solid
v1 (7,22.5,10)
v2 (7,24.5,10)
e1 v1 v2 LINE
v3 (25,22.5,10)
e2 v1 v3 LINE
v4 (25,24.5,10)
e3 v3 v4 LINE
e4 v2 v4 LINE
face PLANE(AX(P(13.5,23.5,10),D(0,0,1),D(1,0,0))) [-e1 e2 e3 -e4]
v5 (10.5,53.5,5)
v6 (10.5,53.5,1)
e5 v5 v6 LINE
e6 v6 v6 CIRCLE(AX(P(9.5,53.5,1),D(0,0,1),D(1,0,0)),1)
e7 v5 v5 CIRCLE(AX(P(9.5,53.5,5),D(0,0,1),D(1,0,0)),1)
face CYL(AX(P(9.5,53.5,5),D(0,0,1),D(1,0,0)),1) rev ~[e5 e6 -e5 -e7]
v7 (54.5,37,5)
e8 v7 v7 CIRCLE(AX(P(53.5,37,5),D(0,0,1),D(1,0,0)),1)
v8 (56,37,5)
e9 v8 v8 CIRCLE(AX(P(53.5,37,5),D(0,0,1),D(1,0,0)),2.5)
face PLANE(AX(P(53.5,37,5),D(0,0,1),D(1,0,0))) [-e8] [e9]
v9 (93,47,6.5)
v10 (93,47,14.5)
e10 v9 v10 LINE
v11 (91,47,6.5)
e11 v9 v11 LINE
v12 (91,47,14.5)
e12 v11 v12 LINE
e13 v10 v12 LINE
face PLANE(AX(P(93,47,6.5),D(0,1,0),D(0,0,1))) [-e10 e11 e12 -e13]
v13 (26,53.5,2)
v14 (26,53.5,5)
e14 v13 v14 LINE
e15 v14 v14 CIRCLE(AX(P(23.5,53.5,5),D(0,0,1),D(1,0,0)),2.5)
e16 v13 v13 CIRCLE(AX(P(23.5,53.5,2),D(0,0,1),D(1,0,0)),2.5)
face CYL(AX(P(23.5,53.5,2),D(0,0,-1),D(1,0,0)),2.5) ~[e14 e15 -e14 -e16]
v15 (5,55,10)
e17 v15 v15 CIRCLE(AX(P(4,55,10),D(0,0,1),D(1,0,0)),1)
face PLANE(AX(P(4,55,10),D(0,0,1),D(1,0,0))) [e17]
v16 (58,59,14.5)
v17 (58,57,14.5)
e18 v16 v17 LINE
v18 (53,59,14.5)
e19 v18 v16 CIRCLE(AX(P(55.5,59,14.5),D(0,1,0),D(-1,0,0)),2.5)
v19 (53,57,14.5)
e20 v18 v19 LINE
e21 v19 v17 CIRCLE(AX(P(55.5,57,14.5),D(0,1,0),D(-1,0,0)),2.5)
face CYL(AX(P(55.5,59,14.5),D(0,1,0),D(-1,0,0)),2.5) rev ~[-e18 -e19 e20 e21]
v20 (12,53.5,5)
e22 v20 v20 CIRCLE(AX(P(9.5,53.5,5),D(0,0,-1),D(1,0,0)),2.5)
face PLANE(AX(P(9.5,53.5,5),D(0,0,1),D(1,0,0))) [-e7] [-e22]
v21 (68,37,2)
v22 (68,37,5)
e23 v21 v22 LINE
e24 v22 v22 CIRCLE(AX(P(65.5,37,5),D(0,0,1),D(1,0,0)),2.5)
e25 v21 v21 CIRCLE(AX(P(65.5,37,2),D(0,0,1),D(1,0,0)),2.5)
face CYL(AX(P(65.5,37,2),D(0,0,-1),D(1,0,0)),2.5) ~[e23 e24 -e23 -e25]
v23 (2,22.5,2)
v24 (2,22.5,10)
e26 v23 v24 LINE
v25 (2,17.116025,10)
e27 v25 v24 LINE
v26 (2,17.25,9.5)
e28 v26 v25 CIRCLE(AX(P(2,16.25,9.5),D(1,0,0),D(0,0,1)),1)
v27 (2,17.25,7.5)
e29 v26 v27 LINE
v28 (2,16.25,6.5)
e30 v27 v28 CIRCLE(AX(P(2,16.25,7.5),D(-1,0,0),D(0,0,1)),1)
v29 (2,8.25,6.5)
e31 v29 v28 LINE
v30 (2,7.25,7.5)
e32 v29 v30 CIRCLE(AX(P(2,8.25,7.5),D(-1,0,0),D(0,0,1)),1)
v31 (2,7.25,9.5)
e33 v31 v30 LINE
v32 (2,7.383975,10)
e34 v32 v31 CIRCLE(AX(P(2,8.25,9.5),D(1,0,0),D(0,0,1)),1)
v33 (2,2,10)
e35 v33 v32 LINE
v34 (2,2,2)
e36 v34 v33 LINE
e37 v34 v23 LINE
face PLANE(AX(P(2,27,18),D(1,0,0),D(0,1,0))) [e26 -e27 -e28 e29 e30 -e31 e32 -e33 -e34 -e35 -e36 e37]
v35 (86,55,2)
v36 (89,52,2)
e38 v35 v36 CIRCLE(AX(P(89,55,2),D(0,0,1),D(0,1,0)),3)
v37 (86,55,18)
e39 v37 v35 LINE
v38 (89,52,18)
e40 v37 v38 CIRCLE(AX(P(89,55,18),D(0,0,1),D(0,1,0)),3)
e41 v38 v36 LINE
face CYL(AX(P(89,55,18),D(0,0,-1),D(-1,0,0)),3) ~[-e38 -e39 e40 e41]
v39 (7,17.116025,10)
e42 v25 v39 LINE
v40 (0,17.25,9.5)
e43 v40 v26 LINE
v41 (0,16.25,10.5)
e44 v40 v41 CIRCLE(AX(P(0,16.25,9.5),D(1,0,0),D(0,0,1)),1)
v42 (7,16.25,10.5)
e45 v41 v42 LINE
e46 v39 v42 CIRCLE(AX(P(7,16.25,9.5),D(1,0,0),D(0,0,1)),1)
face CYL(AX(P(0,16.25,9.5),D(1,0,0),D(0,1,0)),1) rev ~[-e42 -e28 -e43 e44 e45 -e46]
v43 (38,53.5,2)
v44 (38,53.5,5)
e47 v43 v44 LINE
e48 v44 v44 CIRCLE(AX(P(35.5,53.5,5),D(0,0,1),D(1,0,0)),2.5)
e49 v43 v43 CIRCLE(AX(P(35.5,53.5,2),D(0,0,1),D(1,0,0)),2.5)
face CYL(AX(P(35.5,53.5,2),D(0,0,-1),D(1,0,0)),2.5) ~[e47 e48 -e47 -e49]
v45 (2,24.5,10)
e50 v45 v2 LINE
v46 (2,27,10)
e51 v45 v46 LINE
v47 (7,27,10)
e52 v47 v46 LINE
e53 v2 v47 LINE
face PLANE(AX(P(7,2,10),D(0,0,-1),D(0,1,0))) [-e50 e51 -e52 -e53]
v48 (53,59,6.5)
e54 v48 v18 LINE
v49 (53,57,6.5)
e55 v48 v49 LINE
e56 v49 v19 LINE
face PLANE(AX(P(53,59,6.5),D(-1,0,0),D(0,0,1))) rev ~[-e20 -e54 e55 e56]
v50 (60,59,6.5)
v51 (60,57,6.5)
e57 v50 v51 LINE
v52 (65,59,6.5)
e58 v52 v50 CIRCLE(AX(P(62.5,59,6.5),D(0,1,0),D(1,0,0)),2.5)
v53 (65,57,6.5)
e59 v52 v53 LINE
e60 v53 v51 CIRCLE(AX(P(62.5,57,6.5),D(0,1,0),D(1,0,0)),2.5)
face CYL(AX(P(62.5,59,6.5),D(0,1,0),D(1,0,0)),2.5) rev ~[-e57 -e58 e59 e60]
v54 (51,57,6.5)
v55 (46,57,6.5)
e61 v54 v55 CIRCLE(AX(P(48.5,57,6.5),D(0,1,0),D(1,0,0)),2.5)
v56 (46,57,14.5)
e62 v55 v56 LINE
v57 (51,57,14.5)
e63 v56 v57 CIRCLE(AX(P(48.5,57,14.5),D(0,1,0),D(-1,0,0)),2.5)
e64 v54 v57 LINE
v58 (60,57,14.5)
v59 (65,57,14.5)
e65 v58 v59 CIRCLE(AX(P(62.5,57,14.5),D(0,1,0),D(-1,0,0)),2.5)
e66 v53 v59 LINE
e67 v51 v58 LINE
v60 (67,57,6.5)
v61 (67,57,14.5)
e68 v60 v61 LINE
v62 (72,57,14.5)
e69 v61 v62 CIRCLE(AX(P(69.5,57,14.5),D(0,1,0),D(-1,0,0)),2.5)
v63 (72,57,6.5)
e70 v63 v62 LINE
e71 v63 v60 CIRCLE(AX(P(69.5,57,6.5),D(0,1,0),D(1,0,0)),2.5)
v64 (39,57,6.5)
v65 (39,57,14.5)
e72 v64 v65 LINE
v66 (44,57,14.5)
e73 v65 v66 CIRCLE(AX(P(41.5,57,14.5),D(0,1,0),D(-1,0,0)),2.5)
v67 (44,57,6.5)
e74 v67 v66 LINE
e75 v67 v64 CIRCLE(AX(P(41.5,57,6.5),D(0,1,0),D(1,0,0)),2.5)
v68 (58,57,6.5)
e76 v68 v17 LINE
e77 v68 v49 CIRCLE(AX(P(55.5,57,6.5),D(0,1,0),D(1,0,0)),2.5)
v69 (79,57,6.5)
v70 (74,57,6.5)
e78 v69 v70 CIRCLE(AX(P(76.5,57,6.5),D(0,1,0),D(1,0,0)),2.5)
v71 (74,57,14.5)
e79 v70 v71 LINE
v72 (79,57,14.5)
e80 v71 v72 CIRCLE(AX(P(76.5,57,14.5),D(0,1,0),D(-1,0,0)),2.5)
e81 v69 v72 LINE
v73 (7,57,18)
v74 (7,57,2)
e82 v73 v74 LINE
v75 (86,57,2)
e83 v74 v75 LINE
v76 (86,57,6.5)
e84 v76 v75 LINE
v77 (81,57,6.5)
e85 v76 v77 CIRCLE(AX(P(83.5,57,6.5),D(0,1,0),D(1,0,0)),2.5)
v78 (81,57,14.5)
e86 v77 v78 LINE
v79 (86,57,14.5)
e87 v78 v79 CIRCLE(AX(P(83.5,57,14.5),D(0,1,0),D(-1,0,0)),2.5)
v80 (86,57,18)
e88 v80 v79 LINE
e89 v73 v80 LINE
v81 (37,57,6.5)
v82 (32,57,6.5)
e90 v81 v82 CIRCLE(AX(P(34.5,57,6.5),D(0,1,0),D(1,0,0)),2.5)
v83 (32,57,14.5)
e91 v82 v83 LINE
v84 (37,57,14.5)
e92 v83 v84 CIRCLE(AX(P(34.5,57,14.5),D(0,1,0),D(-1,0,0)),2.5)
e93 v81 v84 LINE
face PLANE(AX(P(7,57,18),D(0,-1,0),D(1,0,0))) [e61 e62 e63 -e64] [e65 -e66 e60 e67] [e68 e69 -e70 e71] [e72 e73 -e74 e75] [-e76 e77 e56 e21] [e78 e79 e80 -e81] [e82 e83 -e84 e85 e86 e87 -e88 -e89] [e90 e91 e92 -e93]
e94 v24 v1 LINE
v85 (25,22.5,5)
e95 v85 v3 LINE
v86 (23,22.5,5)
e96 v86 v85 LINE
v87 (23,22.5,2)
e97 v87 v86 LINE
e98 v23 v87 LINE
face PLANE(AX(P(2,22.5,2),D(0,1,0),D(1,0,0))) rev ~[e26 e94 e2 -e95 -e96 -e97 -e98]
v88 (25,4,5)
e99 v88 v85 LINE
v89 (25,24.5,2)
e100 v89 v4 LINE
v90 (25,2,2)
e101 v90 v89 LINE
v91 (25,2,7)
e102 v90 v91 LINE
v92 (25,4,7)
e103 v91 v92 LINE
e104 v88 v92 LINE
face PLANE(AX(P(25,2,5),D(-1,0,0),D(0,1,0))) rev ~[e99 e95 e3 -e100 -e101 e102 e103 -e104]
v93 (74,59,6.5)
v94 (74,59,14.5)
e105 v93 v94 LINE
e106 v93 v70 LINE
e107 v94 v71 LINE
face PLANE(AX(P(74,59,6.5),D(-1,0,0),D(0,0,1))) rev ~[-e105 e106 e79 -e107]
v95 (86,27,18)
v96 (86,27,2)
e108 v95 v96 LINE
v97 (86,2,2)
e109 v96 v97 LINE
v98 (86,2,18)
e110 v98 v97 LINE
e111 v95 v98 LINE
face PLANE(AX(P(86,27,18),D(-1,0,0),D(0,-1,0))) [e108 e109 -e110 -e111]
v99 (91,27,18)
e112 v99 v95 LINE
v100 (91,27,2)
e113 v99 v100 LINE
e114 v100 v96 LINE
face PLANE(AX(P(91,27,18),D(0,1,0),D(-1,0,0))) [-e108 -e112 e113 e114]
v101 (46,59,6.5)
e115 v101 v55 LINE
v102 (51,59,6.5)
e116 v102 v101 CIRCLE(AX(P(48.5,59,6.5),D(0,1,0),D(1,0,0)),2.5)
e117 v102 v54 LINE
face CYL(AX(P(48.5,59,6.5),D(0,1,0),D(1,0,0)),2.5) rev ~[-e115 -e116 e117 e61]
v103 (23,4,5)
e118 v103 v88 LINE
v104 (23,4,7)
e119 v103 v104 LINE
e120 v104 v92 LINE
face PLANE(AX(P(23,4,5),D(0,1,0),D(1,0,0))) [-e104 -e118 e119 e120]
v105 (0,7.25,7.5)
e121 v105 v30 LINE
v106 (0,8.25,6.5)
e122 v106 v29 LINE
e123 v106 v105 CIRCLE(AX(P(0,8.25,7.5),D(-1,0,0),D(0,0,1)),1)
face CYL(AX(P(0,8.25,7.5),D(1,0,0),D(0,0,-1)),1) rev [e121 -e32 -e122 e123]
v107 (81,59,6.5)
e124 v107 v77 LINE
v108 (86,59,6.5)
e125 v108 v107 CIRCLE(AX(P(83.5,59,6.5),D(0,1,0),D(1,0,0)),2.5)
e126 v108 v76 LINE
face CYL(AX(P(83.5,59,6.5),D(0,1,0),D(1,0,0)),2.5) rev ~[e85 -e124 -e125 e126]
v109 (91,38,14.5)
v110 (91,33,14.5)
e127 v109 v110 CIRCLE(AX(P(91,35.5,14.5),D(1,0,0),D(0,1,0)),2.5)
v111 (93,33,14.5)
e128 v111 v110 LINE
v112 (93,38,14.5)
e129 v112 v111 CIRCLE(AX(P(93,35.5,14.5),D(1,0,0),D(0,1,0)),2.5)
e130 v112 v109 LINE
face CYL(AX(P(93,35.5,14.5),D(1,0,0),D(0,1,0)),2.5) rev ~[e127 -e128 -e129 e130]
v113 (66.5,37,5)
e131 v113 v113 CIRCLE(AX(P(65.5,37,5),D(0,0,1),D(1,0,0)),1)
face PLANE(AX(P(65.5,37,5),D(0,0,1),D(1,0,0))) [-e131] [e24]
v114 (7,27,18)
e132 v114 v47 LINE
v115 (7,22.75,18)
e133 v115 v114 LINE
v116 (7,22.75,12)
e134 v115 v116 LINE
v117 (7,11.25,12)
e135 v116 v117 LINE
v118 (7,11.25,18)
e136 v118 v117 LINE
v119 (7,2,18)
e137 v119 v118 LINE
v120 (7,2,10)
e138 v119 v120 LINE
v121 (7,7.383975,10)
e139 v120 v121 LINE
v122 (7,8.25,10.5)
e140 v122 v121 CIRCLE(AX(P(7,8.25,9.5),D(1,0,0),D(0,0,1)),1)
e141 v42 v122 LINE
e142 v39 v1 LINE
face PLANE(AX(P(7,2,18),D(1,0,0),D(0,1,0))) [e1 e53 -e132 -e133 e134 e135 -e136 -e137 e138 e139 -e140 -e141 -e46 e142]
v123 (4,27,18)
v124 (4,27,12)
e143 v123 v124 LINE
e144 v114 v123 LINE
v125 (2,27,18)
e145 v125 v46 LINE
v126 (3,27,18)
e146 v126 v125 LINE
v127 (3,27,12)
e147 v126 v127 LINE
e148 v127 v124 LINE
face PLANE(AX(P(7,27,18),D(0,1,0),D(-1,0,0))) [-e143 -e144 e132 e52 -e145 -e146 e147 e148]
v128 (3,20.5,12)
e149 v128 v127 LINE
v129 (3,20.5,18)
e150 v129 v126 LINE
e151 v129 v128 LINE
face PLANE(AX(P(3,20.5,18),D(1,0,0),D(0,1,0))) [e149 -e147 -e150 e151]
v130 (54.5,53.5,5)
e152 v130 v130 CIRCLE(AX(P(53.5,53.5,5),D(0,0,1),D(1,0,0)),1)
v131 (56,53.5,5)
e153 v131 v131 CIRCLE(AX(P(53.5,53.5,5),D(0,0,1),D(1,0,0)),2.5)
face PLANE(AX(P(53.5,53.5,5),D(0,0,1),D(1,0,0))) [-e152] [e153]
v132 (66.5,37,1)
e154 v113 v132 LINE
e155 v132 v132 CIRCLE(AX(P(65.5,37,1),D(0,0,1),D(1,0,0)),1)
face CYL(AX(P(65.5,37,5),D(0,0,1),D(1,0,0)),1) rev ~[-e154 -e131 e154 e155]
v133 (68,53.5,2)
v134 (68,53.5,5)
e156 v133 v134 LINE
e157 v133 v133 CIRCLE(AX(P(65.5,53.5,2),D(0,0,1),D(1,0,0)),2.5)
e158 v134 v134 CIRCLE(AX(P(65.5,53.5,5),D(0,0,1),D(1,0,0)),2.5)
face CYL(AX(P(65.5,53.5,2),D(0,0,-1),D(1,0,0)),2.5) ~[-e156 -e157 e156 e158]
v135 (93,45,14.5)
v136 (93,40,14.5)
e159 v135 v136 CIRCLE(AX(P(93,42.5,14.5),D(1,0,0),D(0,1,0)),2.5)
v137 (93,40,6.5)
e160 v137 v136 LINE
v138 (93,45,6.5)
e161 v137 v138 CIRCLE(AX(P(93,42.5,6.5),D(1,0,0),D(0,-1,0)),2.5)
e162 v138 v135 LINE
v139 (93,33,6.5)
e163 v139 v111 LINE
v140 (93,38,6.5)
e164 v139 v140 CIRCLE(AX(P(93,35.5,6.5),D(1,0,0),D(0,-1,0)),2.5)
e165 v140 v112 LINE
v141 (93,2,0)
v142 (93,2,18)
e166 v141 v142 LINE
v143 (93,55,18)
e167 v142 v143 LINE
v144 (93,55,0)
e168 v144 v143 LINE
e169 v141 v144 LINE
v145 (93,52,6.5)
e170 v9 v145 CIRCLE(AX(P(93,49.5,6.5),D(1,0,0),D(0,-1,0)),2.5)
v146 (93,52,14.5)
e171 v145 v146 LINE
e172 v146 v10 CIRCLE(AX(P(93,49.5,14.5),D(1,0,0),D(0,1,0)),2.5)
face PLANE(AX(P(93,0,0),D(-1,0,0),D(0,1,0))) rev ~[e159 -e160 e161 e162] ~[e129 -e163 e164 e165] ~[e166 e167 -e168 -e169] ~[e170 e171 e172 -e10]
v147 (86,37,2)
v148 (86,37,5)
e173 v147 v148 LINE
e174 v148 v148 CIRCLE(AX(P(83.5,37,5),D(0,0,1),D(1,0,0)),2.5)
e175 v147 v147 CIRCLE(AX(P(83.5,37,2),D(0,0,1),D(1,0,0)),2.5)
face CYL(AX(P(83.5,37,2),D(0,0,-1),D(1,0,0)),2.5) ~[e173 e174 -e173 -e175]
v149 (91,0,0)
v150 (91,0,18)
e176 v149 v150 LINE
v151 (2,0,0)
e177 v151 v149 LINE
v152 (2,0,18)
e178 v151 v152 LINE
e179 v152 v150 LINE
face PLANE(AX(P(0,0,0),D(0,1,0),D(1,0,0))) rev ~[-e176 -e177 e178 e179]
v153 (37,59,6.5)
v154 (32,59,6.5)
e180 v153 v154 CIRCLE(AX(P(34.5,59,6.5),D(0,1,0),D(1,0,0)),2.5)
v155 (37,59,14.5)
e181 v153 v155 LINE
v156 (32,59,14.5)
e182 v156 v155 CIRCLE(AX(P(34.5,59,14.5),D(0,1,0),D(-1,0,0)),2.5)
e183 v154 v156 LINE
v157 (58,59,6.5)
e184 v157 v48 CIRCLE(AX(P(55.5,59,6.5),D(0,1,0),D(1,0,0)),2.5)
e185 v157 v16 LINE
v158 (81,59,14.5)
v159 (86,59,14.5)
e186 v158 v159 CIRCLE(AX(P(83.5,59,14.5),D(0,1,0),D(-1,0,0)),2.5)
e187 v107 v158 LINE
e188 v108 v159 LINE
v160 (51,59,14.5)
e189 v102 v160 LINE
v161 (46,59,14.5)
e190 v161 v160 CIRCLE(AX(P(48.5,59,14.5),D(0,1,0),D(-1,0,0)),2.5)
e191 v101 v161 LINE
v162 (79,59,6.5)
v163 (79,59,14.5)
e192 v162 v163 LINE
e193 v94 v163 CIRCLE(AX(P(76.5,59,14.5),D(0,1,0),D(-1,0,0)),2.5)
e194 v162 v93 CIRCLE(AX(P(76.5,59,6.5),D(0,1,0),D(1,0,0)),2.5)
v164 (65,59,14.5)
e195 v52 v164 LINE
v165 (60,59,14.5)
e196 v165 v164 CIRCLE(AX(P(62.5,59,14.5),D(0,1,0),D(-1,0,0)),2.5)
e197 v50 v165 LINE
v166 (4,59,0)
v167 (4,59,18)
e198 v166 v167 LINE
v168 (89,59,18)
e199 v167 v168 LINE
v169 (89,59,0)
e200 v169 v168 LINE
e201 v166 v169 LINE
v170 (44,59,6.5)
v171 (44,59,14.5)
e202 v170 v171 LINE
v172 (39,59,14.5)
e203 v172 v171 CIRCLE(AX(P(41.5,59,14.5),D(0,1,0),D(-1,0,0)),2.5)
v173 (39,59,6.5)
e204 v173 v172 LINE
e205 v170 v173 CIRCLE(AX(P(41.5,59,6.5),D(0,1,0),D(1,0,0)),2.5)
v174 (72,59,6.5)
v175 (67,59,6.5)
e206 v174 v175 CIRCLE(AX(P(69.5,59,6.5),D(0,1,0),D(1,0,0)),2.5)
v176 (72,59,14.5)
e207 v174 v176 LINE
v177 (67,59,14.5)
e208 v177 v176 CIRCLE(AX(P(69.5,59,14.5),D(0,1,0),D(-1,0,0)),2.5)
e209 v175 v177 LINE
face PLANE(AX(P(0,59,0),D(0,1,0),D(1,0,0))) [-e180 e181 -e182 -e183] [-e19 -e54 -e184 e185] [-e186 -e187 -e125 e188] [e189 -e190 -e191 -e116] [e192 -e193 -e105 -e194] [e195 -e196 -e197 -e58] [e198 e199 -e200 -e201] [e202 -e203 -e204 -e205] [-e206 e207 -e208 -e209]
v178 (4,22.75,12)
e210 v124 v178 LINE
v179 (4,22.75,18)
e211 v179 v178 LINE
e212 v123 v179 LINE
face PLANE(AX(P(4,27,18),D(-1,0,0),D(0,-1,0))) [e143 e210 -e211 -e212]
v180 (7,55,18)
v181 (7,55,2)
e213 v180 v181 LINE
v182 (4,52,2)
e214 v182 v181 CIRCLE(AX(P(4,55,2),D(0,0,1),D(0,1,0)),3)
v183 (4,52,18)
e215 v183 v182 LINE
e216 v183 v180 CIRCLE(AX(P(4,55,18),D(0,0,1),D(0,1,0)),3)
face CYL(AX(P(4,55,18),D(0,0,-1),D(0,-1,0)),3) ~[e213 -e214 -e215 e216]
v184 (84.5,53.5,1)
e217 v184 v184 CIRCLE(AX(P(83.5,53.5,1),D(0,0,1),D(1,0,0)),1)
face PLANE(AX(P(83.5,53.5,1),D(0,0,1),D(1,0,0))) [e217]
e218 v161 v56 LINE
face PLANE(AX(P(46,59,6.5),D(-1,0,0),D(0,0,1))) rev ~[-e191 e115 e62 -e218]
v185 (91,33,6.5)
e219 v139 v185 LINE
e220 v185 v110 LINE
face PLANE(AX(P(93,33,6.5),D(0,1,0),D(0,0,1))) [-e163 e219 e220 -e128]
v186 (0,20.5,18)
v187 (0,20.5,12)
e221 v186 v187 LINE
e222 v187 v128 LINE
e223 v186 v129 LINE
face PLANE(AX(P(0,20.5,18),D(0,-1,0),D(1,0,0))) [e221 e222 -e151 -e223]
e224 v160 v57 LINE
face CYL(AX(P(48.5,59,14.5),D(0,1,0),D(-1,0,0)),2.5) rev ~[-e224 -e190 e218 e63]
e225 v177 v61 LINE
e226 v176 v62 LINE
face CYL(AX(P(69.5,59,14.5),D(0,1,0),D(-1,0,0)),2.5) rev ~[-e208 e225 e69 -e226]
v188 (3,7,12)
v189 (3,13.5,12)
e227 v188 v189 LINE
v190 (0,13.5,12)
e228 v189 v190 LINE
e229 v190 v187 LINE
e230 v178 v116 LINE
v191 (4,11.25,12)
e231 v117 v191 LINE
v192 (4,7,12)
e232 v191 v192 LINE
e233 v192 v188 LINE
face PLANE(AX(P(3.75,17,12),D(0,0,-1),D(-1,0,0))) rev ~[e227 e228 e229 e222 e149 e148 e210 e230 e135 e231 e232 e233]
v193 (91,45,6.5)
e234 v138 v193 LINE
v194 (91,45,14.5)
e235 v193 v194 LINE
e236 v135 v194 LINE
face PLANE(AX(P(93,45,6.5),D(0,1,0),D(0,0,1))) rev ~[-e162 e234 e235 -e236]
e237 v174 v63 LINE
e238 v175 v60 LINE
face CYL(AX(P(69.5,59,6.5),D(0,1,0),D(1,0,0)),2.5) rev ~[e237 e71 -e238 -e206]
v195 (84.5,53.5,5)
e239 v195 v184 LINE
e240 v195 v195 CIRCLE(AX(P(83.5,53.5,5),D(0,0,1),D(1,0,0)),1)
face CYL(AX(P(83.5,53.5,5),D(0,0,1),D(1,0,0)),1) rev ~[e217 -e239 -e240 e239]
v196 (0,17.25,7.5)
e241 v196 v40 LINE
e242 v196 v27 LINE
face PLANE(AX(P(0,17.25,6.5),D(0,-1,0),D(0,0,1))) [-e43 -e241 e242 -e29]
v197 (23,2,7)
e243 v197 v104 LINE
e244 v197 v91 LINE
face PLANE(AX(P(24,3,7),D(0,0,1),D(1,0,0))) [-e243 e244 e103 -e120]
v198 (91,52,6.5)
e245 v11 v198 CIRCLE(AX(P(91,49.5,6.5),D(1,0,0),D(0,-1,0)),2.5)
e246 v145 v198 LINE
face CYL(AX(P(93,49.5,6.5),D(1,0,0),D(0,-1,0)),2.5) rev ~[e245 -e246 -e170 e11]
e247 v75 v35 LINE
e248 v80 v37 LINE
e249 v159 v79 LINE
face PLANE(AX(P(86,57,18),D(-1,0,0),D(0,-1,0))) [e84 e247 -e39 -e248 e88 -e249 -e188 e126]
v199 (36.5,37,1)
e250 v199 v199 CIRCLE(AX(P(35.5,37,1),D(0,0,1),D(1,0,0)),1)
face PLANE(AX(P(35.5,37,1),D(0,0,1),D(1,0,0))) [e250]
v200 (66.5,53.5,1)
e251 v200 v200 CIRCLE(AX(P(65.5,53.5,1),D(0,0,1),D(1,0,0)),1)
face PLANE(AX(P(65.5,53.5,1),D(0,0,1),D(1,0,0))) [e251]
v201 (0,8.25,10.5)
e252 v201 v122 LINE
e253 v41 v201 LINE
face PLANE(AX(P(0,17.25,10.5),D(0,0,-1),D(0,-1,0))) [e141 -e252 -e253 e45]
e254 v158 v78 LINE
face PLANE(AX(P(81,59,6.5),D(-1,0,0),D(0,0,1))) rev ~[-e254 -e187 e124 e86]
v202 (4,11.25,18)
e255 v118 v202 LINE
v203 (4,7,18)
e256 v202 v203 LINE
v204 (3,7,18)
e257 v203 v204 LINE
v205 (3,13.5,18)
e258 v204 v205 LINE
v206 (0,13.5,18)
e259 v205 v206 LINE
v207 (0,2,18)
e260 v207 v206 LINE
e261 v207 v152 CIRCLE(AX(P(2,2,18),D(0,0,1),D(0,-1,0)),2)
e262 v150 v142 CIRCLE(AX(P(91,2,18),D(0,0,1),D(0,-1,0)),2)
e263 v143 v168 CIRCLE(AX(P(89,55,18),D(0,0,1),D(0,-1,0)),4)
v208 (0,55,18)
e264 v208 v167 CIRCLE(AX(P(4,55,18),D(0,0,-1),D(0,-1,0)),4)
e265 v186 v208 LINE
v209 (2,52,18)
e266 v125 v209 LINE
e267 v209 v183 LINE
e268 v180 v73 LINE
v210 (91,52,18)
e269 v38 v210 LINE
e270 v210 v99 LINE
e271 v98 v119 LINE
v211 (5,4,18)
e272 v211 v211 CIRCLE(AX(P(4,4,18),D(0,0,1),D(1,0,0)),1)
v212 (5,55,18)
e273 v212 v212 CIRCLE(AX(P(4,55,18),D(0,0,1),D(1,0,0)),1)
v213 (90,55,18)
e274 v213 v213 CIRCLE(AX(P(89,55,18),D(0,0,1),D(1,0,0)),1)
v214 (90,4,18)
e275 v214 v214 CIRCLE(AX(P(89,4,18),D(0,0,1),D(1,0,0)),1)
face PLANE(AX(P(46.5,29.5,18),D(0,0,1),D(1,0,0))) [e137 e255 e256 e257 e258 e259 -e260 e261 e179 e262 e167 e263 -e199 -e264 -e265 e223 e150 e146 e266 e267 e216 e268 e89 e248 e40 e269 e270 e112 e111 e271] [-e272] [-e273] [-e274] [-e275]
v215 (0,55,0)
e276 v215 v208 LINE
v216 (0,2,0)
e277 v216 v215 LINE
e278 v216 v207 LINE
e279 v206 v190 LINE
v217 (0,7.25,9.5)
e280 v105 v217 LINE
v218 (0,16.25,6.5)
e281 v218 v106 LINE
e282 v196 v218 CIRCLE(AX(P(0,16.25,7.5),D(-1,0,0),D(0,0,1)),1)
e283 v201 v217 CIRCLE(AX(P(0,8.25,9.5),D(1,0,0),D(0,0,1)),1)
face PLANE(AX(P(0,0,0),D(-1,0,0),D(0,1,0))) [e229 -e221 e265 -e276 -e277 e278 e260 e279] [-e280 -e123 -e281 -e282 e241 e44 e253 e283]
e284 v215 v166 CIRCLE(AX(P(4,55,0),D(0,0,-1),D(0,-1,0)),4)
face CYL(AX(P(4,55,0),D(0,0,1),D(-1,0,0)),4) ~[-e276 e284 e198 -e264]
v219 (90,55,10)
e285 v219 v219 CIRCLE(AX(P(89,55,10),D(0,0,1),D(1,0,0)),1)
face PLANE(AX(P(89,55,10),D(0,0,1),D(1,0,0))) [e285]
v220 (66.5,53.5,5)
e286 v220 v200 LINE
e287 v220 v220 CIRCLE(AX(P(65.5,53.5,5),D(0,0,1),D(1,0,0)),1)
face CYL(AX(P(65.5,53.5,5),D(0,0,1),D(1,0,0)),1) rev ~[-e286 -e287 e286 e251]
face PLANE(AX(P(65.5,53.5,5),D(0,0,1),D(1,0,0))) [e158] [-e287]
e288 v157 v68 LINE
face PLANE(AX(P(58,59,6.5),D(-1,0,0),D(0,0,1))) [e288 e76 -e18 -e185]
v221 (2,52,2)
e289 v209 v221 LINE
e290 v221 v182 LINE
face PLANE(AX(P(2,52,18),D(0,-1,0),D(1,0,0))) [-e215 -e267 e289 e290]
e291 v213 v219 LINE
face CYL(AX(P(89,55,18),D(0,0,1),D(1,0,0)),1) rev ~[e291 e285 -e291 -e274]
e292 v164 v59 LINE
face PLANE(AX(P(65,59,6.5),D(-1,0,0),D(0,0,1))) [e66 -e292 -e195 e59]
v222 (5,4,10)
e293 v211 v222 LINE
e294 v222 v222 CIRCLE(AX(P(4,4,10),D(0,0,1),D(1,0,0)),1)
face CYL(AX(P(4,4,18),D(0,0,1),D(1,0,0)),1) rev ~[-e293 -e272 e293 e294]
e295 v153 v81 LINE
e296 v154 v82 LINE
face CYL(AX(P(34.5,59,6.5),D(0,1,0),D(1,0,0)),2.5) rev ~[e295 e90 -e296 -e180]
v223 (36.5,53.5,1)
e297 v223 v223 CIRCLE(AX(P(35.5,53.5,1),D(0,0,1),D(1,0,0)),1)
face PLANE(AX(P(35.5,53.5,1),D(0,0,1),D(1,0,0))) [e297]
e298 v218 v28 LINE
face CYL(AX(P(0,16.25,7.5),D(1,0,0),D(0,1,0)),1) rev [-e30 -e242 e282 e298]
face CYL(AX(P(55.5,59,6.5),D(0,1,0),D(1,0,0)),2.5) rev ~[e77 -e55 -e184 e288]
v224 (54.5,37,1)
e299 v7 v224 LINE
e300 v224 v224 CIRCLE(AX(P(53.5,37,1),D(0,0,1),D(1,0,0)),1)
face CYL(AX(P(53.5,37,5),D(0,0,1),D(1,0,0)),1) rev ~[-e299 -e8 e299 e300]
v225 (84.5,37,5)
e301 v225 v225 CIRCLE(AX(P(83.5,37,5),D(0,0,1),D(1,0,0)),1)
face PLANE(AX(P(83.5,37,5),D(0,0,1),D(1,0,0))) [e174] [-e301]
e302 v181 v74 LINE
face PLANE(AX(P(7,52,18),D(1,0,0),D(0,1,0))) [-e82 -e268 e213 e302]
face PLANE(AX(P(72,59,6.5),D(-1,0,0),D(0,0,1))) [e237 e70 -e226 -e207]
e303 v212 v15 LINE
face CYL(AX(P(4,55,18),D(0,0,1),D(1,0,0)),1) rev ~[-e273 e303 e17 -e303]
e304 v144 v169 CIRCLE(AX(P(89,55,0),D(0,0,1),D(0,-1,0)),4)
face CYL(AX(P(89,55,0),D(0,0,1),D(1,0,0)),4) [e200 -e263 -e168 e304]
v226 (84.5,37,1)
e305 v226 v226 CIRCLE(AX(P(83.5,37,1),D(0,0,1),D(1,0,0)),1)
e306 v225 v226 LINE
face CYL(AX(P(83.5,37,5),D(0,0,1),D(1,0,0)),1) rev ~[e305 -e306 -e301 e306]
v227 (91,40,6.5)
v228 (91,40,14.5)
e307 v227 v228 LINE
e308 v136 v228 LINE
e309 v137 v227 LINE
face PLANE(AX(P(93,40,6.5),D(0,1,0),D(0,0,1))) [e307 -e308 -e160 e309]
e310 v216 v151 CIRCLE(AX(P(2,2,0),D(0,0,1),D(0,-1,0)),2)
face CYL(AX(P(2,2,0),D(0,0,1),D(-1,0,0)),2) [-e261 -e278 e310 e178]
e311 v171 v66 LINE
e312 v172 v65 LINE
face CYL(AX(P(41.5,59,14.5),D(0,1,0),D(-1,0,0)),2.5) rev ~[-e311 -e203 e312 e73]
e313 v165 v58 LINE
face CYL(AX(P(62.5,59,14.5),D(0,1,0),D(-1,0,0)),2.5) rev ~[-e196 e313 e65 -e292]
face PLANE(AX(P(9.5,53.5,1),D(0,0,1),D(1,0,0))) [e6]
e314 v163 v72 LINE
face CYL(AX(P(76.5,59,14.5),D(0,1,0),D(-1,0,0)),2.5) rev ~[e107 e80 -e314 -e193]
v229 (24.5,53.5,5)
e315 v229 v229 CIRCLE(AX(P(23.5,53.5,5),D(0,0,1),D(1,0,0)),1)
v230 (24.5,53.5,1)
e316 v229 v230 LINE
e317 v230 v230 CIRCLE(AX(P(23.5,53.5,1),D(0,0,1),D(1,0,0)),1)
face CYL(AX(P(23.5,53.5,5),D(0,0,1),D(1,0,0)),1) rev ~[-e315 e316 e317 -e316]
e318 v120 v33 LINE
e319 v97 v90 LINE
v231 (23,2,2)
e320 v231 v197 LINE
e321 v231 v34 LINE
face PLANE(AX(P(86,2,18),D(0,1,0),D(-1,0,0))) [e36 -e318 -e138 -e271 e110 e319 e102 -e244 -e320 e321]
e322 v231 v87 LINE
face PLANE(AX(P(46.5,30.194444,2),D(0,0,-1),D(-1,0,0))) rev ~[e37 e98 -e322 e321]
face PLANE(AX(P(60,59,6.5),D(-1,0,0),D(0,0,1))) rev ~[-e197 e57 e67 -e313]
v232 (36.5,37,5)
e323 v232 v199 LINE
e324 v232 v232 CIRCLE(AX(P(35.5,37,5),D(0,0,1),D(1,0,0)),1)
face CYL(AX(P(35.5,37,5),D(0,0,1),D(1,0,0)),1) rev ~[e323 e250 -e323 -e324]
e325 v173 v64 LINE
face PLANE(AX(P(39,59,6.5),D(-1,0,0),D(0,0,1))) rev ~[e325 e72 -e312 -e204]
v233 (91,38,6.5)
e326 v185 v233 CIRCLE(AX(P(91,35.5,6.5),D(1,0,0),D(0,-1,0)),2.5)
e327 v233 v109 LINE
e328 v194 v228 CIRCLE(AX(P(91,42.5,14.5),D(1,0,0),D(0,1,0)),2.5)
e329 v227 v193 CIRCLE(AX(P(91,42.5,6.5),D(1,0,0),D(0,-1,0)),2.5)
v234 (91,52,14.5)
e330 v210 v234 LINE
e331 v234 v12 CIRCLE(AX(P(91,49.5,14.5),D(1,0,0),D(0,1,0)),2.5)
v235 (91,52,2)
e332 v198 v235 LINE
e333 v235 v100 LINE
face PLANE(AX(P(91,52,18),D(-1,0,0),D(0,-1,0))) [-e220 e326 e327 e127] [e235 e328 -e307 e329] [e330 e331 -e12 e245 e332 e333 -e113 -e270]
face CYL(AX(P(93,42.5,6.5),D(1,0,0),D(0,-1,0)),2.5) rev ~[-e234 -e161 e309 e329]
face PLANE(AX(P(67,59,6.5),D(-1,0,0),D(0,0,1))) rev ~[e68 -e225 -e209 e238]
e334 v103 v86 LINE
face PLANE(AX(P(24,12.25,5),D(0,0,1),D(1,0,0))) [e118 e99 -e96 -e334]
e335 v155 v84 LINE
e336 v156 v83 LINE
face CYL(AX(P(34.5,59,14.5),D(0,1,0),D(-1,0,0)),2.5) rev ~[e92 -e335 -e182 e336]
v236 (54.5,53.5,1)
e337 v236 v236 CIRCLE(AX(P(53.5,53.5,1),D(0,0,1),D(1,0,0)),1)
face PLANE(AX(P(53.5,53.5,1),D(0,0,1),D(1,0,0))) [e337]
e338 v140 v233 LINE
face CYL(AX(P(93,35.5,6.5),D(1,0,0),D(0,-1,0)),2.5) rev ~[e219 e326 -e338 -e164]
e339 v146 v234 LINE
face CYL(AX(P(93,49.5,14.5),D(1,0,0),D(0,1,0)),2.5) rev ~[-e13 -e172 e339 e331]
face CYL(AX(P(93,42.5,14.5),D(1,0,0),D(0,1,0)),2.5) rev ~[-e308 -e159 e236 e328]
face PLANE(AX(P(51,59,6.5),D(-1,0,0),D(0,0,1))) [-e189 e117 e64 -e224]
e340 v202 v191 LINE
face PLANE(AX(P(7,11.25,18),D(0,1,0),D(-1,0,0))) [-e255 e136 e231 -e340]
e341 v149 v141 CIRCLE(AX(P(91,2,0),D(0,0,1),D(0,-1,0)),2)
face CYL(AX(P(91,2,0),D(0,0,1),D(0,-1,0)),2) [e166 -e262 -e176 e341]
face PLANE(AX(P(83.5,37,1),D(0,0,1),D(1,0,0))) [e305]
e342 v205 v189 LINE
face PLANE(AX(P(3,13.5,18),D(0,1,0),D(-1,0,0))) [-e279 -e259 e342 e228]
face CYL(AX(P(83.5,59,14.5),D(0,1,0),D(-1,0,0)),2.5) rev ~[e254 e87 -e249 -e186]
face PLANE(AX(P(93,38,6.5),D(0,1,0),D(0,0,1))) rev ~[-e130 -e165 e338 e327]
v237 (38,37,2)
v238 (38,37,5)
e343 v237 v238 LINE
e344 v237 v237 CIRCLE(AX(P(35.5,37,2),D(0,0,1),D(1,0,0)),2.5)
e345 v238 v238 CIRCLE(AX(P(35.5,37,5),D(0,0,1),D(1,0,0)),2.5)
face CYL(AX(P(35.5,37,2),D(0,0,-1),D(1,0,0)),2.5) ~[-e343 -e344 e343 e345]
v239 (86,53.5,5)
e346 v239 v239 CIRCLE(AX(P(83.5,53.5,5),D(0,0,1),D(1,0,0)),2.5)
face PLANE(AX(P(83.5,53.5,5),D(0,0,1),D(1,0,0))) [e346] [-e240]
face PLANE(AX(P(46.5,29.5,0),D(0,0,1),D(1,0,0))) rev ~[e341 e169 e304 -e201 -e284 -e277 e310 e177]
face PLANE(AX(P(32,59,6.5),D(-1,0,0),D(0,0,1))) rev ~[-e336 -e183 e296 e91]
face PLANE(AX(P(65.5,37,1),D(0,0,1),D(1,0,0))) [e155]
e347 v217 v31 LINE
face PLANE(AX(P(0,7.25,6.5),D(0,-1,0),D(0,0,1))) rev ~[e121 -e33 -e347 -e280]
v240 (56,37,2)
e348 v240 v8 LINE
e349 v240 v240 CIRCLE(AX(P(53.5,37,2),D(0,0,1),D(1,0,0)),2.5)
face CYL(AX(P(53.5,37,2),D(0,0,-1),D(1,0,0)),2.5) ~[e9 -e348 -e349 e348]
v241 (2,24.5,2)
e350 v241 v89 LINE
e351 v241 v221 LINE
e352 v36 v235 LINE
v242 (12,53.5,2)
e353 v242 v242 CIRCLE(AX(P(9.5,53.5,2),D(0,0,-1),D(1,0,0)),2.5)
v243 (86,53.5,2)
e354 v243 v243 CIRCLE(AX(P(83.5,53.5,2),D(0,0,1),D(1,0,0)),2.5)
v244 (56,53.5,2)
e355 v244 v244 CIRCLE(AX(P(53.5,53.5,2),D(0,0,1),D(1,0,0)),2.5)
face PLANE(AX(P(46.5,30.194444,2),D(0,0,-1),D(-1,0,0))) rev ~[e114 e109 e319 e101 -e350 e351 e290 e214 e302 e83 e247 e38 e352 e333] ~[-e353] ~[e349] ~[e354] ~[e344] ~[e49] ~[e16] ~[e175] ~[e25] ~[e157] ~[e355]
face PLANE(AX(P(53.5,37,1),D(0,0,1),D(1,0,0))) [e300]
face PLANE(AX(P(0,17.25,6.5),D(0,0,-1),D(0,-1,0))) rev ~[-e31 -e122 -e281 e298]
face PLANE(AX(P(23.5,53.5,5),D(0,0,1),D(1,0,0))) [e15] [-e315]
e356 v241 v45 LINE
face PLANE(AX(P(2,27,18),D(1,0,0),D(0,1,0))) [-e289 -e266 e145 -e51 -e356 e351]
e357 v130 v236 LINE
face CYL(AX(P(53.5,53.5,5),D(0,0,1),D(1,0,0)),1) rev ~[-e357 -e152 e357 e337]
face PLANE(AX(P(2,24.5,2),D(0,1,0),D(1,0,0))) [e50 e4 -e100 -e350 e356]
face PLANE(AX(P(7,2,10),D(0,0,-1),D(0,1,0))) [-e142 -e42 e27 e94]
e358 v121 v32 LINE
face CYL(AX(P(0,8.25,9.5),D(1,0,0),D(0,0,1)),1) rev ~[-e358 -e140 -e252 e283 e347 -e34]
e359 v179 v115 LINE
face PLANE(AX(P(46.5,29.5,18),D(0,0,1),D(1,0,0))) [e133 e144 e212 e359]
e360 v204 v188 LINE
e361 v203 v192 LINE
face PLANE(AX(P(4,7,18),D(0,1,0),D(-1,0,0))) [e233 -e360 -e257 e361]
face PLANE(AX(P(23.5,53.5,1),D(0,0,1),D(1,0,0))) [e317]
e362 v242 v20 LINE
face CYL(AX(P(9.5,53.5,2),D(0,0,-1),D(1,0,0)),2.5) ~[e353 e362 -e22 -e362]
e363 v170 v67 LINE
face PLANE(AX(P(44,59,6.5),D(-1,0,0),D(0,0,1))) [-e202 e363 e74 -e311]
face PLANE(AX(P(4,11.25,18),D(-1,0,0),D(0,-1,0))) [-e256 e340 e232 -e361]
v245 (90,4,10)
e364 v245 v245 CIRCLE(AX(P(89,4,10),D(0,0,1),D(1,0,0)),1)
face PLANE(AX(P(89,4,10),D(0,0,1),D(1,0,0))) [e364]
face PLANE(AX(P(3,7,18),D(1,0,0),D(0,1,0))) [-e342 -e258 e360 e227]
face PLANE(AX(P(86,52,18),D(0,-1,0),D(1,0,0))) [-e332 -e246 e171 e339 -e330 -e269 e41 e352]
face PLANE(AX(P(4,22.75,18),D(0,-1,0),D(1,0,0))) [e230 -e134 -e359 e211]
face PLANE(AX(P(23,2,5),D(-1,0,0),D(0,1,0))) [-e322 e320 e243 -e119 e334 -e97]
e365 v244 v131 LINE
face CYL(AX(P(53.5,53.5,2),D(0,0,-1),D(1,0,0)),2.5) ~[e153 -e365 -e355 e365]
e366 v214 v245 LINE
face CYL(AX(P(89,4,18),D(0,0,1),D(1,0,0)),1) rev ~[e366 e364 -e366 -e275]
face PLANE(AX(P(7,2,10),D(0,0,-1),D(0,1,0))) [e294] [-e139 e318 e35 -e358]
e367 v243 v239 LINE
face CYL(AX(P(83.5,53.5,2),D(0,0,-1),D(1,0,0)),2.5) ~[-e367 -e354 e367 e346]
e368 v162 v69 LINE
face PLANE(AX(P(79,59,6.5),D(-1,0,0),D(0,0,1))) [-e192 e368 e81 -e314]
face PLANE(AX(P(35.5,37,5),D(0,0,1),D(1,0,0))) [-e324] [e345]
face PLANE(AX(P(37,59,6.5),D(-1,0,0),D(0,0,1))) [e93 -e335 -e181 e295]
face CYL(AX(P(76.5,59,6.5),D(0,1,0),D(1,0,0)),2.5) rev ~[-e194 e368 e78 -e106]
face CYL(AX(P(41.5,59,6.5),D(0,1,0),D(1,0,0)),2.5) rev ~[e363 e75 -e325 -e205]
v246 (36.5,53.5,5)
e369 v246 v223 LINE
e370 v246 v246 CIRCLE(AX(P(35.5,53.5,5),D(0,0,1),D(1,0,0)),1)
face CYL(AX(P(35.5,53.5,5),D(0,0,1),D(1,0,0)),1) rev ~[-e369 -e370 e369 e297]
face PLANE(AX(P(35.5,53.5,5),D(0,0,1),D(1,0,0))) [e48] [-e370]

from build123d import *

# Parameters (mm, degrees)
SKETCH_W        = 93
SKETCH_H        = 59
PAD_DEPTH       = 18
POCKET_DEPTH    = 16
POCKET001_DEPTH = 6
SKETCH003_W     = 25
SKETCH003_H     = 8
POCKET002_DEPTH = 5
SKETCH004_R     = 2.5
SKETCH004_W     = 2
SKETCH004_H     = 20.5
PAD001_DEPTH    = 3
SKETCH005_W     = 23
SKETCH005_H     = 2
PAD002_DEPTH    = 8
SKETCH006_W     = 2
SKETCH006_H     = 2
PAD003_DEPTH    = 2
SKETCH007_R     = 1
POCKET003_DEPTH = 4
POCKET004_DEPTH = 2
POCKET005_DEPTH = 2
SKETCH010_R     = 1
POCKET006_DEPTH = 8
SKETCH011_W     = 10
SKETCH011_H     = 4
POCKET007_DEPTH = 7
FILLET_R        = 2
FILLET001_R     = 4
FILLET002_R     = 3
FILLET003_R     = 1


with BuildPart() as part:
    # Sketch → Pad (new body)
    with BuildSketch(Plane.XY):
        with Locations((46.5, 29.5)):
            Rectangle(SKETCH_W, SKETCH_H)
    extrude(amount=PAD_DEPTH)

    # Sketch001 (on Face6 of Pad) → Pocket (cut)
    with BuildSketch(Plane.XY.offset(18)):
        Polygon((7, 57), (86, 57), (86, 52), (91, 52), (91, 27), (86, 27), (86, 2), (7, 2), (7, 27), (2, 27), (2, 52), (7, 52), align=None)
    extrude(amount=-POCKET_DEPTH, mode=Mode.SUBTRACT)

    # Sketch002 (on Face5 of Pocket) → Pocket001 (cut)
    with BuildSketch(Plane.XY.offset(18)):
        Polygon((0, 20.5), (3, 20.5), (3, 27), (4, 27), (4, 22.75), (7, 22.75), (7, 11.25), (4, 11.25), (4, 7), (3, 7), (3, 13.5), (0, 13.5), align=None)
    extrude(amount=-POCKET001_DEPTH, mode=Mode.SUBTRACT)

    # Sketch003 (on Face14 of Pocket001) → Pocket002 (cut)
    with BuildSketch(Plane.YZ.offset(7)):
        with Locations((14.5, 6)):
            Rectangle(SKETCH003_W, SKETCH003_H)
    extrude(amount=-POCKET002_DEPTH, mode=Mode.SUBTRACT)

    # Sketch004 (on Face31 of Pocket002) → Pad001 (join)
    with BuildSketch(Plane.XY.offset(2)):
        with Locations((23.5, 53.5)):
            Circle(SKETCH004_R)
        with Locations((35.5, 53.5)):
            Circle(SKETCH004_R)
        with Locations((53.5, 53.5)):
            Circle(SKETCH004_R)
        with Locations((53.5, 37)):
            Circle(SKETCH004_R)
        with Locations((35.5, 37)):
            Circle(SKETCH004_R)
        with Locations((65.5, 53.5)):
            Circle(SKETCH004_R)
        with Locations((83.5, 53.5)):
            Circle(SKETCH004_R)
        with Locations((83.5, 37)):
            Circle(SKETCH004_R)
        with Locations((65.5, 37)):
            Circle(SKETCH004_R)
        with Locations((9.5, 53.5)):
            Circle(SKETCH004_R)
        with Locations((24, 12.25)):
            Rectangle(SKETCH004_W, SKETCH004_H)
    extrude(amount=PAD001_DEPTH)

    # Sketch005 (on Face33 of Pad001) → Pad002 (join)
    with BuildSketch(Plane.XY.offset(2)):
        with Locations((13.5, 23.5)):
            Rectangle(SKETCH005_W, SKETCH005_H)
    extrude(amount=PAD002_DEPTH)

    # Sketch006 (on Face30 of Pad002) → Pad003 (join)
    with BuildSketch(Plane.XY.offset(5)):
        with Locations((24, 3)):
            Rectangle(SKETCH006_W, SKETCH006_H)
    extrude(amount=PAD003_DEPTH)

    # Sketch007 (on Face37 of Pad003) → Pocket003 (cut)
    with BuildSketch(Plane.XY.offset(5)):
        with Locations((23.5, 53.5)):
            Circle(SKETCH007_R)
        with Locations((35.5, 53.5)):
            Circle(SKETCH007_R)
        with Locations((9.5, 53.5)):
            Circle(SKETCH007_R)
        with Locations((53.5, 53.5)):
            Circle(SKETCH007_R)
        with Locations((65.5, 53.5)):
            Circle(SKETCH007_R)
        with Locations((83.5, 53.5)):
            Circle(SKETCH007_R)
        with Locations((35.5, 37)):
            Circle(SKETCH007_R)
        with Locations((53.5, 37)):
            Circle(SKETCH007_R)
        with Locations((65.5, 37)):
            Circle(SKETCH007_R)
        with Locations((83.5, 37)):
            Circle(SKETCH007_R)
    extrude(amount=-POCKET003_DEPTH, mode=Mode.SUBTRACT)

    # Sketch008 (on Face49 of Pocket003) → Pocket004 (cut)
    with BuildSketch(Plane(origin=(0, 59, 0), x_dir=(-1, 0, 0), z_dir=(0, 1, 0))):
        with BuildLine():
            ThreePointArc((-79, 6.5), (-76.5, 4), (-74, 6.5))
            Line((-74, 6.5), (-74, 14.5))
            ThreePointArc((-74, 14.5), (-76.5, 17), (-79, 14.5))
            Line((-79, 6.5), (-79, 14.5))
        make_face()
        with BuildLine():
            ThreePointArc((-72, 6.5), (-69.5, 4), (-67, 6.5))
            Line((-67, 6.5), (-67, 14.5))
            ThreePointArc((-67, 14.5), (-69.5, 17), (-72, 14.5))
            Line((-72, 6.5), (-72, 14.5))
        make_face()
        with BuildLine():
            ThreePointArc((-65, 6.5), (-62.5, 4), (-60, 6.5))
            Line((-60, 6.5), (-60, 14.5))
            ThreePointArc((-60, 14.5), (-62.5, 17), (-65, 14.5))
            Line((-65, 6.5), (-65, 14.5))
        make_face()
        with BuildLine():
            ThreePointArc((-58, 6.5), (-55.5, 4), (-53, 6.5))
            Line((-53, 6.5), (-53, 14.5))
            ThreePointArc((-53, 14.5), (-55.5, 17), (-58, 14.5))
            Line((-58, 6.5), (-58, 14.5))
        make_face()
        with BuildLine():
            ThreePointArc((-51, 6.5), (-48.5, 4), (-46, 6.5))
            Line((-46, 6.5), (-46, 14.5))
            ThreePointArc((-46, 14.5), (-48.5, 17), (-51, 14.5))
            Line((-51, 6.5), (-51, 14.5))
        make_face()
        with BuildLine():
            ThreePointArc((-44, 6.5), (-41.5, 4), (-39, 6.5))
            Line((-39, 6.5), (-39, 14.5))
            ThreePointArc((-39, 14.5), (-41.5, 17), (-44, 14.5))
            Line((-44, 6.5), (-44, 14.5))
        make_face()
        with BuildLine():
            ThreePointArc((-37, 6.5), (-34.5, 4), (-32, 6.5))
            Line((-32, 6.5), (-32, 14.5))
            ThreePointArc((-32, 14.5), (-34.5, 17), (-37, 14.5))
            Line((-37, 6.5), (-37, 14.5))
        make_face()
        with BuildLine():
            ThreePointArc((-86, 6.5), (-83.5, 4), (-81, 6.5))
            Line((-81, 6.5), (-81, 14.5))
            ThreePointArc((-81, 14.5), (-83.5, 17), (-86, 14.5))
            Line((-86, 6.5), (-86, 14.5))
        make_face()
    extrude(amount=-POCKET004_DEPTH, mode=Mode.SUBTRACT)

    # Sketch009 (on Face80 of Pocket004) → Pocket005 (cut)
    with BuildSketch(Plane.YZ.offset(93)):
        with BuildLine():
            ThreePointArc((40, 6.5), (42.5, 4), (45, 6.5))
            Line((45, 6.5), (45, 14.5))
            ThreePointArc((45, 14.5), (42.5, 17), (40, 14.5))
            Line((40, 6.5), (40, 14.5))
        make_face()
        with BuildLine():
            ThreePointArc((33, 6.5), (35.5, 4), (38, 6.5))
            Line((38, 6.5), (38, 14.5))
            ThreePointArc((38, 14.5), (35.5, 17), (33, 14.5))
            Line((33, 6.5), (33, 14.5))
        make_face()
        with BuildLine():
            ThreePointArc((47, 6.5), (49.5, 4), (52, 6.5))
            Line((52, 6.5), (52, 14.5))
            ThreePointArc((52, 14.5), (49.5, 17), (47, 14.5))
            Line((47, 6.5), (47, 14.5))
        make_face()
    extrude(amount=-POCKET005_DEPTH, mode=Mode.SUBTRACT)

    # Sketch010 (on Face26 of Pocket005) → Pocket006 (cut)
    with BuildSketch(Plane.XY.offset(18)):
        with Locations((4, 55)):
            Circle(SKETCH010_R)
        with Locations((4, 4)):
            Circle(SKETCH010_R)
        with Locations((89, 4)):
            Circle(SKETCH010_R)
        with Locations((89, 55)):
            Circle(SKETCH010_R)
    extrude(amount=-POCKET006_DEPTH, mode=Mode.SUBTRACT)

    # Sketch011 (on Face93 of Pocket006) → Pocket007 (cut)
    with BuildSketch(Plane(origin=(0, 0, 0), x_dir=(0, -1, 0), z_dir=(-1, 0, 0))):
        with Locations((-12.25, 8.5)):
            Rectangle(SKETCH011_W, SKETCH011_H)
    extrude(amount=-POCKET007_DEPTH, mode=Mode.SUBTRACT)

    # Fillet
    fillet_edges = [part.edges().sort_by_distance(p)[0] for p in [
        (0, 0, 9),
        (93, 0, 9),
    ]]
    fillet(fillet_edges, radius=FILLET_R)

    # Fillet001
    fillet001_edges = [part.edges().sort_by_distance(p)[0] for p in [
        (93, 59, 9),
        (0, 59, 9),
    ]]
    fillet(fillet001_edges, radius=FILLET001_R)

    # Fillet002
    fillet002_edges = [part.edges().sort_by_distance(p)[0] for p in [
        (7, 52, 10),
        (86, 52, 10),
    ]]
    fillet(fillet002_edges, radius=FILLET002_R)

    # Fillet003
    fillet003_edges = [part.edges().sort_by_distance(p)[0] for p in [
        (1, 7.25, 6.5),
        (1, 17.25, 6.5),
        (3.5, 17.25, 10.5),
        (3.5, 7.25, 10.5),
    ]]
    fillet(fillet003_edges, radius=FILLET003_R)


solid = part.part
